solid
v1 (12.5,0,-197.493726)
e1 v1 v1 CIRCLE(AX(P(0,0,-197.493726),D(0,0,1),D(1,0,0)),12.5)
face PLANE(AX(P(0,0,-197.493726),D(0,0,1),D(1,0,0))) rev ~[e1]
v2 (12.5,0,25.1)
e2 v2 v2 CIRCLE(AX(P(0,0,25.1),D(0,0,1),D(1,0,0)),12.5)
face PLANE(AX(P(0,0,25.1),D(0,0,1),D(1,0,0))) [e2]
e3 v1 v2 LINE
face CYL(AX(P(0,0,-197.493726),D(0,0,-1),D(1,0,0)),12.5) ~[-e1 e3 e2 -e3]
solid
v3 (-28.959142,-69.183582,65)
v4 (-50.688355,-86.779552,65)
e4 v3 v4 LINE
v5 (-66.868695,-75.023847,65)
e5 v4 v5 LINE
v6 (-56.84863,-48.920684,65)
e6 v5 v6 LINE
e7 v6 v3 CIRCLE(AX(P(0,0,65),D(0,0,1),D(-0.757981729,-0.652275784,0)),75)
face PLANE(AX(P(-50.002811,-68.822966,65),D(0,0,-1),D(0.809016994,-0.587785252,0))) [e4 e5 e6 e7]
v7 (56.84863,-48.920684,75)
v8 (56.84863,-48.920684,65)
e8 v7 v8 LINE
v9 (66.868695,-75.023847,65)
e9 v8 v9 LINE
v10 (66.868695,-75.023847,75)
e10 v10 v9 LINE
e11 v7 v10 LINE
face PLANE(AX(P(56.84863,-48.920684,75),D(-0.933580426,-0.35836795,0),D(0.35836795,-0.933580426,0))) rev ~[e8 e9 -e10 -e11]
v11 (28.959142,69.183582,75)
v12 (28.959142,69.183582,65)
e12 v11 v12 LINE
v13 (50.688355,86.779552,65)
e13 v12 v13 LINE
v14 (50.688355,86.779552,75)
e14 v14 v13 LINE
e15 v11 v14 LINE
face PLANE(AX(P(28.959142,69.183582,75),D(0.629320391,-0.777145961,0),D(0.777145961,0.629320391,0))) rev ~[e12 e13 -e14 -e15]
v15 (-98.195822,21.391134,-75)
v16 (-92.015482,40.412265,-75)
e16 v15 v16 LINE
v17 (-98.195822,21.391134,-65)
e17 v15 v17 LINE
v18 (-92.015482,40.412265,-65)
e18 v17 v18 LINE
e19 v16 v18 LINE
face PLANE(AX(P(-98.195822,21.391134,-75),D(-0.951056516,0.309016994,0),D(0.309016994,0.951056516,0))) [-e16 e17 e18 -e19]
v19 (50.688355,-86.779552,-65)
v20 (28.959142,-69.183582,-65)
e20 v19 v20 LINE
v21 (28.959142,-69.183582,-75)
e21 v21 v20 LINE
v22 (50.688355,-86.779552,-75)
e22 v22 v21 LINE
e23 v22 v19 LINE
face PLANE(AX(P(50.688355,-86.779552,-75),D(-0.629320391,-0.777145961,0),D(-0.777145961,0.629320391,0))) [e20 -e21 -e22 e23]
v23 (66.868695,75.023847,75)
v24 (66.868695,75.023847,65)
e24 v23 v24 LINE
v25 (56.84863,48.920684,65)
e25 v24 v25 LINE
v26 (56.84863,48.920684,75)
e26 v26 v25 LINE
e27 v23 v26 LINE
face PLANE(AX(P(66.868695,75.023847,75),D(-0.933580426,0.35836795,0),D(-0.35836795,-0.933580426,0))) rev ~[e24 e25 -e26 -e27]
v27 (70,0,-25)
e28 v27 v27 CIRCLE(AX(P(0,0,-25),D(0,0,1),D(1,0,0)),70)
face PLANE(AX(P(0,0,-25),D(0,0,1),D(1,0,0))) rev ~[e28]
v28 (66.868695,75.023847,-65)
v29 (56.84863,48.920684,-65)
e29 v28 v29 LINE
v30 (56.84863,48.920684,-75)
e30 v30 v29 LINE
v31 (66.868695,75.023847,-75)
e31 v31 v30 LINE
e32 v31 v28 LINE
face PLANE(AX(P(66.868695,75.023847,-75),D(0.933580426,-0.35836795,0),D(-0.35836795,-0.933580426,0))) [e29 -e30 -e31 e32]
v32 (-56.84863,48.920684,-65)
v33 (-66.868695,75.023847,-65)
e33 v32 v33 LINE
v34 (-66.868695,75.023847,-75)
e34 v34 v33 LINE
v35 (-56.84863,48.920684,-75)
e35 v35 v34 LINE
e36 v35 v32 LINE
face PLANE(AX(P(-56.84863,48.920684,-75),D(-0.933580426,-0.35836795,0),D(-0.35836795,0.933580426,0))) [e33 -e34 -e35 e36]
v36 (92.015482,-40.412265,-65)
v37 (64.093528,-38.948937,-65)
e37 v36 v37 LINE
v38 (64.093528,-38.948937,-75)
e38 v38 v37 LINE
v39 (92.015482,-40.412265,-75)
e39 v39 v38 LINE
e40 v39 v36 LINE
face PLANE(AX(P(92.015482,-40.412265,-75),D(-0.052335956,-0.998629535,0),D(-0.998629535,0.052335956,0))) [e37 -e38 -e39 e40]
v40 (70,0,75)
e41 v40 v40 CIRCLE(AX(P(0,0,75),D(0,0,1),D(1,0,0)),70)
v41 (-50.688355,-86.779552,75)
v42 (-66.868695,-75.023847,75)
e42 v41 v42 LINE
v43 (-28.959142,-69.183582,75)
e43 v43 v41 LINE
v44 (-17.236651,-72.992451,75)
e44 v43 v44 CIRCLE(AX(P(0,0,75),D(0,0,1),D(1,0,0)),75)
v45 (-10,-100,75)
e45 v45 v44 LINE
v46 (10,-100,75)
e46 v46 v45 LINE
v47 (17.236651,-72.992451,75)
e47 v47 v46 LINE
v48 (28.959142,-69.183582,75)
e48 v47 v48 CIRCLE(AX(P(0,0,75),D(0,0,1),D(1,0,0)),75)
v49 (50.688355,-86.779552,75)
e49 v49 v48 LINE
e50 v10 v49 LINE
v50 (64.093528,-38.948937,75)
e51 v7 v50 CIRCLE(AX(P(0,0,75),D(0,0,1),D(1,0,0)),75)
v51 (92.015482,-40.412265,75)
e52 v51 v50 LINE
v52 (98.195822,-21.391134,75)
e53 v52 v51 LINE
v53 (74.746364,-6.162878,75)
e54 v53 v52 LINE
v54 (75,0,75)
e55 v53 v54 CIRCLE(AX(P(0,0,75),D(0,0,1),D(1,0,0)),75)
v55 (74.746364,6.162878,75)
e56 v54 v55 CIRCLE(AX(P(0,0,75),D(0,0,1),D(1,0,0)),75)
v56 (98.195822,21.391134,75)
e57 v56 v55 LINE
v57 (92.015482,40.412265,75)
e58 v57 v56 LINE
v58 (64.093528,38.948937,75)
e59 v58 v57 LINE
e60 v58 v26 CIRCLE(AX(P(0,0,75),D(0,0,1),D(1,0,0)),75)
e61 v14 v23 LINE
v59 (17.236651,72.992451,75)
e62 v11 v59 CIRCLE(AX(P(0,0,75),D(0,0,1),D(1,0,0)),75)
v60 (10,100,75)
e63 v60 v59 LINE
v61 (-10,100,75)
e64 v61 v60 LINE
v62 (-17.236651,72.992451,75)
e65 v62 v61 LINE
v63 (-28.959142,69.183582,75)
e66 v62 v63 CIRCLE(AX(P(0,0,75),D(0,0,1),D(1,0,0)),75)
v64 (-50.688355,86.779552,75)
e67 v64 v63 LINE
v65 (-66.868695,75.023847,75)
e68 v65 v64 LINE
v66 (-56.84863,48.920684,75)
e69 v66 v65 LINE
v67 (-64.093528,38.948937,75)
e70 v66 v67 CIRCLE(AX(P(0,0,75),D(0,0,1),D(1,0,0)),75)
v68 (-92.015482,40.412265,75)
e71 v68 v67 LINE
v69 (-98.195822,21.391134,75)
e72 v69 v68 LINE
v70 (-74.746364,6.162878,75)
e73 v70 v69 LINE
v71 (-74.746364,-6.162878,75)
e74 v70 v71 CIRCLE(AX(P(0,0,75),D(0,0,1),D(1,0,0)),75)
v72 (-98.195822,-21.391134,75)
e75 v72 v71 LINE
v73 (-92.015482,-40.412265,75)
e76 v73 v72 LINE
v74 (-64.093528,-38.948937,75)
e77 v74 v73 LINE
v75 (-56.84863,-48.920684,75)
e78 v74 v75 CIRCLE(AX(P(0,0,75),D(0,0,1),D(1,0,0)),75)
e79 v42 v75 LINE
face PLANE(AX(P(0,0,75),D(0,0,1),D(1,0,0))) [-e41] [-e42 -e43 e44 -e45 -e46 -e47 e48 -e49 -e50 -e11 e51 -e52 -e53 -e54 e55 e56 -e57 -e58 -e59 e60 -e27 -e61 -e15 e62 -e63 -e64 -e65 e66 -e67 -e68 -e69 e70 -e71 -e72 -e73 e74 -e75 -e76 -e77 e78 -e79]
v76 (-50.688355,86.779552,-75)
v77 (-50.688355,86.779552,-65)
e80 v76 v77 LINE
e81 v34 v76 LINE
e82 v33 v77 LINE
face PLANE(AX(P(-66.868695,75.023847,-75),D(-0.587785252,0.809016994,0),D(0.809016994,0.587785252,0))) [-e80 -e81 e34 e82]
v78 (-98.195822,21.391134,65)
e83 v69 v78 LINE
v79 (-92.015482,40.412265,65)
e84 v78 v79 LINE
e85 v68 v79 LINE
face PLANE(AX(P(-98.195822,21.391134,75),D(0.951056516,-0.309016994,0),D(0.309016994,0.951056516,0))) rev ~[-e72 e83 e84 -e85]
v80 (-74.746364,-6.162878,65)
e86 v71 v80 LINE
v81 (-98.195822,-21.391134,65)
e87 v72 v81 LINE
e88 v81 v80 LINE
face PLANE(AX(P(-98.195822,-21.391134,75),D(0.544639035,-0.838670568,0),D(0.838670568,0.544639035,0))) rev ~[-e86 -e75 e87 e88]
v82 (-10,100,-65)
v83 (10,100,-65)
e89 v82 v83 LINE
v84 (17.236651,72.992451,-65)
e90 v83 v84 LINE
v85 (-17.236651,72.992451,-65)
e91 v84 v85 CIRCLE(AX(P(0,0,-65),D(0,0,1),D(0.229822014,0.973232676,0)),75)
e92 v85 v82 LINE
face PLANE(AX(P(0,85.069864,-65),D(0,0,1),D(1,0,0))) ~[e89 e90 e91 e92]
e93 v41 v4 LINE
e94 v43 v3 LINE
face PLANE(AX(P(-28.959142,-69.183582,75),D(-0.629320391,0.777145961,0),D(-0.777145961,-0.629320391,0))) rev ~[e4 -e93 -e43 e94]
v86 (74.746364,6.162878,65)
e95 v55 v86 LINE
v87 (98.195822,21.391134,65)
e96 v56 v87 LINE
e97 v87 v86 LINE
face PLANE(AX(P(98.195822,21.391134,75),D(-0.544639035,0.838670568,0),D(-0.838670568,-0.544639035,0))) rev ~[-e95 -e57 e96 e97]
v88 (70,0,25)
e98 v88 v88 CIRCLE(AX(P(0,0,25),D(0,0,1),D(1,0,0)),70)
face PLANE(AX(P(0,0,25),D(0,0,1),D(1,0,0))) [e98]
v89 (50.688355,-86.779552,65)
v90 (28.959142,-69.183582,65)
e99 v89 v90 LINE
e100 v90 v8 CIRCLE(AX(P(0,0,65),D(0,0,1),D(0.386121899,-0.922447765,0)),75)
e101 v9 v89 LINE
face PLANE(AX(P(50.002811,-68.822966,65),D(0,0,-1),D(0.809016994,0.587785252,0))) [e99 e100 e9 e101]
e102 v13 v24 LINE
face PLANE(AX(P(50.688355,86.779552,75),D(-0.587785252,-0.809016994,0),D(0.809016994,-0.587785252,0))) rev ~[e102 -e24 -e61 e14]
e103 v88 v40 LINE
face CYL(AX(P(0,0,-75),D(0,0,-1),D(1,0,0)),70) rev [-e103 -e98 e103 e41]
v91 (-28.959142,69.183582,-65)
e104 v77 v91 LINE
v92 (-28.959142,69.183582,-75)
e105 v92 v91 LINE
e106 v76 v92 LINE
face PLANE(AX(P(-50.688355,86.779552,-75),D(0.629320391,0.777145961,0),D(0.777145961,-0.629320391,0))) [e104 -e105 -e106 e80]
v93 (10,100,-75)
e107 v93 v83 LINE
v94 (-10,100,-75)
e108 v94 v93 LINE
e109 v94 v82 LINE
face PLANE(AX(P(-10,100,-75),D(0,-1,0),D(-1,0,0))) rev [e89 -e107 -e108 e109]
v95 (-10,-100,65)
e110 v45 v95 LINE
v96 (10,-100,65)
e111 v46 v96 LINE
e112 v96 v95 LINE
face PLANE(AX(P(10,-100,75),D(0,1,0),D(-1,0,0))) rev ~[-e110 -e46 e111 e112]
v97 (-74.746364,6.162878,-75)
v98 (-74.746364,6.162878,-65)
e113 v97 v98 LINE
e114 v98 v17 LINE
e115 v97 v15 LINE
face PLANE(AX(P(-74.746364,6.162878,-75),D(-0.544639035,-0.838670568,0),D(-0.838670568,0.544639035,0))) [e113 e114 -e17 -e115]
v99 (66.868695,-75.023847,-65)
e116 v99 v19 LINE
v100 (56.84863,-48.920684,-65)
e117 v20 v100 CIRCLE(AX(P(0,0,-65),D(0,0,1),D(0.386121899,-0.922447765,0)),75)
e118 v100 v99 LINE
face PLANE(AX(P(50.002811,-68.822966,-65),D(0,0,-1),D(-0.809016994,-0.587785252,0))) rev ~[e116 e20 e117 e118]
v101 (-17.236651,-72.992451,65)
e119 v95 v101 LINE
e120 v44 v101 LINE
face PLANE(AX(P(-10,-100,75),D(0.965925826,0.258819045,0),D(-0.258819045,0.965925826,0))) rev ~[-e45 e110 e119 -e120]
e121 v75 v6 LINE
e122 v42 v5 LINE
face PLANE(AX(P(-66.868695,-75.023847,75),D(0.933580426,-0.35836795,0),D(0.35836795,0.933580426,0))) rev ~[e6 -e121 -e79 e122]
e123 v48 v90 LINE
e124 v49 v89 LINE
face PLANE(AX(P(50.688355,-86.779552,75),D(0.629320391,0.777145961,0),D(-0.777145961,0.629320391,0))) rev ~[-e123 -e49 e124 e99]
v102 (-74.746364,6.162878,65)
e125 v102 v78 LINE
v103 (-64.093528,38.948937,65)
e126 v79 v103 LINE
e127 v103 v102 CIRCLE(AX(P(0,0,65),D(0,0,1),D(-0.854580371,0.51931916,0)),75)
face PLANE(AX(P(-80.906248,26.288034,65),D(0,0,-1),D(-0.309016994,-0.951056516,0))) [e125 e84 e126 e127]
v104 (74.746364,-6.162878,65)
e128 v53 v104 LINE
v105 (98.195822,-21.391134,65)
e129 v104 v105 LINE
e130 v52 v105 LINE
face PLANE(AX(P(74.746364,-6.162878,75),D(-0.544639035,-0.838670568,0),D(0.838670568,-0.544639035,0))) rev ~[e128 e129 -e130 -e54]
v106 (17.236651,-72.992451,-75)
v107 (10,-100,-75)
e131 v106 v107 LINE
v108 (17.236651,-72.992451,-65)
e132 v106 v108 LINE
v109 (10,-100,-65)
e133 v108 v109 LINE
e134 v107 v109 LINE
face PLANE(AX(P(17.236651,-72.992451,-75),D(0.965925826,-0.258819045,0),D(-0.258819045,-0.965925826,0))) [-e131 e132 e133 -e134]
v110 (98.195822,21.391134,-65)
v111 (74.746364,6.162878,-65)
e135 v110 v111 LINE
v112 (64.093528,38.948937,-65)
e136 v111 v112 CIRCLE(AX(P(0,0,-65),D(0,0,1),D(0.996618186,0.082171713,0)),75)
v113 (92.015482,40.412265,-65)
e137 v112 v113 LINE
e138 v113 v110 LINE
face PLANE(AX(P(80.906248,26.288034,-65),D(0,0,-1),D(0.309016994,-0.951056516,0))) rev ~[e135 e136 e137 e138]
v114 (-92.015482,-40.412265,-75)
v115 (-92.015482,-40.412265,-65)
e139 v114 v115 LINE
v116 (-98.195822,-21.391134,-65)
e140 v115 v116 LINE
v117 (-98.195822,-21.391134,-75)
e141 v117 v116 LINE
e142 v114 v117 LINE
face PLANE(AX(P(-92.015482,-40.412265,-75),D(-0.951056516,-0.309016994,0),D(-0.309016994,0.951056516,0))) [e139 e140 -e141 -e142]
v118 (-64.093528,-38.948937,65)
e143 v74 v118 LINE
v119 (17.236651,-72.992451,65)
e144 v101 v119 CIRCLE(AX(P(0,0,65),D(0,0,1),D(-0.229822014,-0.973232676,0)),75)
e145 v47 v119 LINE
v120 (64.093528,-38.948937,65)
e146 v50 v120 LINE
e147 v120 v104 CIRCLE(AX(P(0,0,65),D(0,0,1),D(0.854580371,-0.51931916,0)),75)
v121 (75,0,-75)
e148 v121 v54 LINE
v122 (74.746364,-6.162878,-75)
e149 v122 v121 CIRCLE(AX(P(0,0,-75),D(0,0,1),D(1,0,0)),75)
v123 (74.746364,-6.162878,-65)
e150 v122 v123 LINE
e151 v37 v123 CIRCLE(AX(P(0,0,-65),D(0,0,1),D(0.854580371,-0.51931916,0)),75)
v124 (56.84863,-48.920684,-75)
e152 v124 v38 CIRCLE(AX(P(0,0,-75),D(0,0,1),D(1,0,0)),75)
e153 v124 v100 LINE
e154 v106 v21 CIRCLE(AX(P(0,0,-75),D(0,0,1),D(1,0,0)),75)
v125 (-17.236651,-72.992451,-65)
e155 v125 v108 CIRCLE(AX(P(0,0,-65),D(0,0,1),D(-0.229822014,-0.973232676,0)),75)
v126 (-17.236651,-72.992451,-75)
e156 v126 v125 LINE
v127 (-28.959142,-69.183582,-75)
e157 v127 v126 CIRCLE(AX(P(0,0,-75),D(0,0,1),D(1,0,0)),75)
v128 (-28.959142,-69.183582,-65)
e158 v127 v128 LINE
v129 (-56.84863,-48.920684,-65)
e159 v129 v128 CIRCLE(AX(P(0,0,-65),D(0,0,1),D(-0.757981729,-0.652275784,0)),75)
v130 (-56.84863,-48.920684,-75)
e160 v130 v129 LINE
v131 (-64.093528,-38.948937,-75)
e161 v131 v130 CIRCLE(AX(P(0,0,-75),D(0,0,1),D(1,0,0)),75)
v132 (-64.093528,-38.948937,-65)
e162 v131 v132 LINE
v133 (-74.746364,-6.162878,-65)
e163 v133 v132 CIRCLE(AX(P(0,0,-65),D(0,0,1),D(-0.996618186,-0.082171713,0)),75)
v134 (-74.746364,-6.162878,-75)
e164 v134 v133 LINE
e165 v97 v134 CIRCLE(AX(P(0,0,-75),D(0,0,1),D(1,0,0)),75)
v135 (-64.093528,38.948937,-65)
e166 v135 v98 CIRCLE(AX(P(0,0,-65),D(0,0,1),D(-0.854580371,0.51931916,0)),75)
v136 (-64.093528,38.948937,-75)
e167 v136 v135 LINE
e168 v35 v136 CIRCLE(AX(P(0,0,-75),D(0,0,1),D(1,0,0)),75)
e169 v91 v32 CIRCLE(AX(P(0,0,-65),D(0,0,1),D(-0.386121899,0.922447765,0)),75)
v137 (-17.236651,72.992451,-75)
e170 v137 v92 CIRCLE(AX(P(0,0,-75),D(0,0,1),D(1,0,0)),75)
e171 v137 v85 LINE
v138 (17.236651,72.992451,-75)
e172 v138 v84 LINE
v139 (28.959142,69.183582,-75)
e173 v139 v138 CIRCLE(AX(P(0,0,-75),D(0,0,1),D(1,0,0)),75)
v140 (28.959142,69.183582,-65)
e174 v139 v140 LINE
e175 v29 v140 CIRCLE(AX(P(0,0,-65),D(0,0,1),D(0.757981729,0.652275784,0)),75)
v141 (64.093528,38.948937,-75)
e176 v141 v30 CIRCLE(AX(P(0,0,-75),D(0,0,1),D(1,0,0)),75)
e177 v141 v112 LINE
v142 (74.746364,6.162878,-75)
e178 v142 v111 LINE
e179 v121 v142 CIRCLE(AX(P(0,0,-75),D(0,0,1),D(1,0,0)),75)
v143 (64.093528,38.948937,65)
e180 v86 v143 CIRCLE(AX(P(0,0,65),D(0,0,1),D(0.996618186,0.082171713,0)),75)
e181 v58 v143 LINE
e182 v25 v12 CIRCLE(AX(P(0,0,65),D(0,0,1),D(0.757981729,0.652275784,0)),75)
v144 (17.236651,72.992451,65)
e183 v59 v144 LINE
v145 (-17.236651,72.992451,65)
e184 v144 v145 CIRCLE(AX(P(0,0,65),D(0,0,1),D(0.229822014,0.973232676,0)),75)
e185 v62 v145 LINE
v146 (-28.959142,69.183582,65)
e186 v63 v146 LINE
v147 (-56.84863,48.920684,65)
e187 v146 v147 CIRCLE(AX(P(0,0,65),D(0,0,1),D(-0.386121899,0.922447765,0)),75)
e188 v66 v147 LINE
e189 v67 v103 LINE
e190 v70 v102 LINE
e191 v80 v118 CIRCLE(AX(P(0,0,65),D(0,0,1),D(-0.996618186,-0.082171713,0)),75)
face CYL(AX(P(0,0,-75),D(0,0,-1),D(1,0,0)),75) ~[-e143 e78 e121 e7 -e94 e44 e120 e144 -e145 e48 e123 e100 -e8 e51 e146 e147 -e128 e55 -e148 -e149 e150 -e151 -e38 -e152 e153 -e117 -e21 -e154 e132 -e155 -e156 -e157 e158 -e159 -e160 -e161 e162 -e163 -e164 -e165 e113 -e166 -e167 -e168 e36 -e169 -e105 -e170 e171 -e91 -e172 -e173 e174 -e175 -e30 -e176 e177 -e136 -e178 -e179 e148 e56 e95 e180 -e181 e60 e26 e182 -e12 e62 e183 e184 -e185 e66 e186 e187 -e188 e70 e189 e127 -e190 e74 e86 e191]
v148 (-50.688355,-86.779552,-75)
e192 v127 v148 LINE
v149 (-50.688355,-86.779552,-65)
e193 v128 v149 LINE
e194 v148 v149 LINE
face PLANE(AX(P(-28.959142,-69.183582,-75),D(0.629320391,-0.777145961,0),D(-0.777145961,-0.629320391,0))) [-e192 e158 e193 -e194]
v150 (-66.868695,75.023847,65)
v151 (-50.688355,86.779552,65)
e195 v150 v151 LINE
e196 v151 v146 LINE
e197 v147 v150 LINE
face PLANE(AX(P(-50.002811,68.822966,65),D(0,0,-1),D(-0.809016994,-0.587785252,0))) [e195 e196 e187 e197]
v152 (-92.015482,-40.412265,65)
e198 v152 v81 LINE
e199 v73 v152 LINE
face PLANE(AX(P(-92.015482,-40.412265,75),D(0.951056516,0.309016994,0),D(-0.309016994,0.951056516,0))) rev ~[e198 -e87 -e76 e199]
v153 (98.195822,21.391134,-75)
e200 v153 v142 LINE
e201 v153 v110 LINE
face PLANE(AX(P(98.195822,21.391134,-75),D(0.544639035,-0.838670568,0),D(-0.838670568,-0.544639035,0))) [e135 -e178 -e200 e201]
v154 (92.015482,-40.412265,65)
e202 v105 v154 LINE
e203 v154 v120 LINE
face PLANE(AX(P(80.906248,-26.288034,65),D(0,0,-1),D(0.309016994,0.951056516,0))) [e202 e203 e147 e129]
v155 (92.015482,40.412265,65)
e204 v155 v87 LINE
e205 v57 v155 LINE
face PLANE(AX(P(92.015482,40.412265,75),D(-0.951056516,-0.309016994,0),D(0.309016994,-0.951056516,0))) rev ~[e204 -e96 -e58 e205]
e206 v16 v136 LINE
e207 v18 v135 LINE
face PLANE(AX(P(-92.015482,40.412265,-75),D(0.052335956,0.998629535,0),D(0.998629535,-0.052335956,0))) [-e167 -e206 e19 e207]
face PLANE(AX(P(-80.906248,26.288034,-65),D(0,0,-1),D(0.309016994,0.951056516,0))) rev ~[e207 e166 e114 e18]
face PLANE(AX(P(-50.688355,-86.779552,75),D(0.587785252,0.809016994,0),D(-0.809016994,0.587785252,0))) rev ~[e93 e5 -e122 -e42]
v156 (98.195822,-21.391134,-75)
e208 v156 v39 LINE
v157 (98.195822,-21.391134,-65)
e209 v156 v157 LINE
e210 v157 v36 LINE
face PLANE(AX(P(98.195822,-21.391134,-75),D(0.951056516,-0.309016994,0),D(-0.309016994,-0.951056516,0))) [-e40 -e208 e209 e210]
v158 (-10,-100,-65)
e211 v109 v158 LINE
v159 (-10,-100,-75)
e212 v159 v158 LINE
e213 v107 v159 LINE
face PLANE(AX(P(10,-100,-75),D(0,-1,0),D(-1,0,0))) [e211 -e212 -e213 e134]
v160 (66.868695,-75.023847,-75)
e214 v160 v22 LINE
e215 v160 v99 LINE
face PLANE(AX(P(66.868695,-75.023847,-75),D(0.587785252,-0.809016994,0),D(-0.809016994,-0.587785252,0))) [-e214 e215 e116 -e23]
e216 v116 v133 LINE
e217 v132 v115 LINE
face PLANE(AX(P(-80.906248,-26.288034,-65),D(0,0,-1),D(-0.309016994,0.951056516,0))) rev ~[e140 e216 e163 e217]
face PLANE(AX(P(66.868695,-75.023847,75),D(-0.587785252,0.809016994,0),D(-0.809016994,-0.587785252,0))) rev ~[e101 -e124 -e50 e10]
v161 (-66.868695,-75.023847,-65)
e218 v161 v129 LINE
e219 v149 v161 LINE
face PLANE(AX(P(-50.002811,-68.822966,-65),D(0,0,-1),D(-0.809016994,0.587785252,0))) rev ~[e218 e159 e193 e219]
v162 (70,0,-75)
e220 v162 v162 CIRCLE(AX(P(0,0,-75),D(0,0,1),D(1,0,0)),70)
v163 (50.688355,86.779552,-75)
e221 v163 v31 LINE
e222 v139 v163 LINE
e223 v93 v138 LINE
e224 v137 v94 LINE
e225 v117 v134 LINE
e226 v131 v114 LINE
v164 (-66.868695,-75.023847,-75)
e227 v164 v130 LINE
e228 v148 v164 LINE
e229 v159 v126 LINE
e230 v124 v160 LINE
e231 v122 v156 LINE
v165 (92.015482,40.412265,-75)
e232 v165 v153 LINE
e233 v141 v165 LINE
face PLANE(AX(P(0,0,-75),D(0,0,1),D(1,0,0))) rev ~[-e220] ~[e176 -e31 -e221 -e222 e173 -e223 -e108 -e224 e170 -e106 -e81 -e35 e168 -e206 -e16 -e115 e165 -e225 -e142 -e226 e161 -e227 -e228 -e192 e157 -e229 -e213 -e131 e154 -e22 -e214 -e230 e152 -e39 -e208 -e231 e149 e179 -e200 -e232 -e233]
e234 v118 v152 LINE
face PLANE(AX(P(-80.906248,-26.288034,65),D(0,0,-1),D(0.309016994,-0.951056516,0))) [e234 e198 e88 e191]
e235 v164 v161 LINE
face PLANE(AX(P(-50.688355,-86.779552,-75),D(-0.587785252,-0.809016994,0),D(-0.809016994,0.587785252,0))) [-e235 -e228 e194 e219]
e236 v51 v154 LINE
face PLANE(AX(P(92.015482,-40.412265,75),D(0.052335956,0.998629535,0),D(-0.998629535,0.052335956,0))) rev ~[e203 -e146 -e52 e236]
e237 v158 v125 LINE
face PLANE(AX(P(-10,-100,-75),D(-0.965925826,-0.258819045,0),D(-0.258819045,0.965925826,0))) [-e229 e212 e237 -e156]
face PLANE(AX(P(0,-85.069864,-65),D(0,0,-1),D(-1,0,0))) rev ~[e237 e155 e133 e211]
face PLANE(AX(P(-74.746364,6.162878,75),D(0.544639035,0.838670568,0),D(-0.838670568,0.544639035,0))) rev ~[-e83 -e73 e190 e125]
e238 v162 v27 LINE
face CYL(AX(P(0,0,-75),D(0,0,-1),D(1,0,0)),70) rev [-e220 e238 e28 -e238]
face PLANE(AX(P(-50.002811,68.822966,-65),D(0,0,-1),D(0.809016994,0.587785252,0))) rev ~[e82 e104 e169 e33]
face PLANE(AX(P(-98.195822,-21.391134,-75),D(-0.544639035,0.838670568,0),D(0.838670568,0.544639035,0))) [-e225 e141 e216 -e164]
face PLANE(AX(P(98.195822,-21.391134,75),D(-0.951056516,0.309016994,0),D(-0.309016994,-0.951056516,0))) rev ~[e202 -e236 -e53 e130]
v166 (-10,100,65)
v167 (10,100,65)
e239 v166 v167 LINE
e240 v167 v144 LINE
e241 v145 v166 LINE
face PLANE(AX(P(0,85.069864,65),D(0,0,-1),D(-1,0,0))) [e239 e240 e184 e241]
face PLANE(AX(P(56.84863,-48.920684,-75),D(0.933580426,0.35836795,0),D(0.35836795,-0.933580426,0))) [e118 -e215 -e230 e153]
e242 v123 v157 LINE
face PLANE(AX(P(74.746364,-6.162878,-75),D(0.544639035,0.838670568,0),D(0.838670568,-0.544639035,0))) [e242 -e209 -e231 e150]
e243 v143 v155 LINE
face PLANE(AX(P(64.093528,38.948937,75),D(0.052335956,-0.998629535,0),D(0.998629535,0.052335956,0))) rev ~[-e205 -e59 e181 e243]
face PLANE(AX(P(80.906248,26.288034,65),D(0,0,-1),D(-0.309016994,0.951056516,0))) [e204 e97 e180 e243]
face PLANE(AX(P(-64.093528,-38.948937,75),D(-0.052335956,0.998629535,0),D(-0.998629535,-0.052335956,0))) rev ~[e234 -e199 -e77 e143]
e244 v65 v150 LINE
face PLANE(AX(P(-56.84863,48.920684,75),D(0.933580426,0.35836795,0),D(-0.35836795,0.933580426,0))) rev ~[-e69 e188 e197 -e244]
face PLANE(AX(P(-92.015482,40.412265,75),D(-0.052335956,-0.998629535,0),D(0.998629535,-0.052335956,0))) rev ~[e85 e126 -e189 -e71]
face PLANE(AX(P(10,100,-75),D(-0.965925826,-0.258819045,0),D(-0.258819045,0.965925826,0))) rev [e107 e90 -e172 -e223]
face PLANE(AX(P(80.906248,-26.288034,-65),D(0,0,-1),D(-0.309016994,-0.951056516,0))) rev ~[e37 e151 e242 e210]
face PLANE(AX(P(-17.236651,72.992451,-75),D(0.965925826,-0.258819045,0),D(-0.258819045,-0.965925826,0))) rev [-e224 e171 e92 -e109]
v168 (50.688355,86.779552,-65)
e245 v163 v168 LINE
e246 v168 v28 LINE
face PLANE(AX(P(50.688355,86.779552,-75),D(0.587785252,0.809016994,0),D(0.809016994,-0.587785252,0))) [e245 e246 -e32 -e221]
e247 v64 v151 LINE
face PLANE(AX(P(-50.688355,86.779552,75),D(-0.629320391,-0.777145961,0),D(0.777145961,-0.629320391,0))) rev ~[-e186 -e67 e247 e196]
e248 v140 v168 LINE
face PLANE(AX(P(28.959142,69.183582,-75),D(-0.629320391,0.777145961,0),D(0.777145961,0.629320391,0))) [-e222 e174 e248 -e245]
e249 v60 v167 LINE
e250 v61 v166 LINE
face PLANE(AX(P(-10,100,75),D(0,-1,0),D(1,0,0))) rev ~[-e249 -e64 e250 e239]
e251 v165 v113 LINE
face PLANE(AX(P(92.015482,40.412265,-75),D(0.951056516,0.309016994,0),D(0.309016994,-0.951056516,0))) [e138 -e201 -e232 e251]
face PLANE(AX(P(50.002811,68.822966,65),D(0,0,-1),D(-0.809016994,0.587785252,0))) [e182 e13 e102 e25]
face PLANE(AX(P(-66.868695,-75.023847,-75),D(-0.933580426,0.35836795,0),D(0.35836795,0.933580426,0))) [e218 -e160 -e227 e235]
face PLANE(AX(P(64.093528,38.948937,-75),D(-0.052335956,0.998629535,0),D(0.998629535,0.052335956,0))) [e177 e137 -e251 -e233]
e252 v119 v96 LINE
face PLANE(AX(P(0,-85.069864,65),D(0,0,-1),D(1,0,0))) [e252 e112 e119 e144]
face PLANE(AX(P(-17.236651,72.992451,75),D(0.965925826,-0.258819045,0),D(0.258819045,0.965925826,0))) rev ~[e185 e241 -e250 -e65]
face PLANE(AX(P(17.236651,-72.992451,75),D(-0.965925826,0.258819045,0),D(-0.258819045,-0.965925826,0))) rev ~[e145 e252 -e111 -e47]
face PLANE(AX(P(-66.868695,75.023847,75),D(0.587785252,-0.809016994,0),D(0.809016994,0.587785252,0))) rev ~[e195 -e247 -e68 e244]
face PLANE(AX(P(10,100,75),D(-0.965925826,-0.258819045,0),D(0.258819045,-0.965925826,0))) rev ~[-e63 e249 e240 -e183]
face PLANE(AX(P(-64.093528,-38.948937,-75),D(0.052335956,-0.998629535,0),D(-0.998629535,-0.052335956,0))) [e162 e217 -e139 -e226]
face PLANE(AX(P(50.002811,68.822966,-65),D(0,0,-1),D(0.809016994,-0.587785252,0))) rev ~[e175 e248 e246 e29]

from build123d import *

# Parameters (mm, degrees)
BOSS_EXTRUDE1_DEPTH      = 25
BOSS_EXTRUDE1_DEPTH_BACK = 25
SKETCH2_R                = 70
BOSS_EXTRUDE2_DEPTH      = 50
BOSS_EXTRUDE2_DEPTH_BACK = 100
SKETCH3_R                = 75
SKETCH3_R_2              = 70
BOSS_EXTRUDE3_DEPTH      = 10
CIRPATTERN1_COUNT        = 10
MIRROR1_COPY_1_DEPTH     = 10
MIRROR1_COPY_2_DEPTH     = 10
MIRROR1_COPY_3_DEPTH     = 10
MIRROR1_COPY_4_DEPTH     = 10
MIRROR1_COPY_5_DEPTH     = 10
MIRROR1_COPY_6_DEPTH     = 10
MIRROR1_COPY_7_DEPTH     = 10
MIRROR1_COPY_8_DEPTH     = 10
MIRROR1_COPY_9_DEPTH     = 10
MIRROR1_COPY_10_DEPTH    = 10
BOSS_EXTRUDE4_DEPTH      = 0.1
BOSS_EXTRUDE4_DEPTH_BACK = 222.49372628
SKETCH5_R                = 12.5


with BuildPart() as part:
    # Sketch2 → Boss-Extrude1 (new, two sides: drawn at the far end of the back side and taken through both)
    with BuildSketch(Plane.XY.offset(-BOSS_EXTRUDE1_DEPTH_BACK)):
        Circle(SKETCH2_R)
    extrude(amount=BOSS_EXTRUDE1_DEPTH + BOSS_EXTRUDE1_DEPTH_BACK)

    # Sketch3 → Boss-Extrude2 (add, two sides: drawn at the far end of the back side and taken through both)
    with BuildSketch(Plane.XY.offset(25).offset(-BOSS_EXTRUDE2_DEPTH_BACK)):
        Circle(SKETCH3_R)
        Circle(SKETCH3_R_2, mode=Mode.SUBTRACT)
    extrude(amount=BOSS_EXTRUDE2_DEPTH + BOSS_EXTRUDE2_DEPTH_BACK)

    # Sketch4 → Boss-Extrude3 (add)
    with BuildSketch(Plane.XY.offset(75)):
        with BuildLine():
            Line((-10, 100), (10, 100))
            Line((10, 100), (17.23665102, 72.992450717))
            ThreePointArc((17.23665102, 72.992450717), (0, 75), (-17.23665102, 72.992450717))
            Line((-17.23665102, 72.992450717), (-10, 100))
        make_face()
    boss_extrude3 = extrude(amount=-BOSS_EXTRUDE3_DEPTH)

    # CirPattern1: Boss-Extrude3 ×10 about axis
    cirpattern1_axis = Axis((0, 0, 75), (0, 0, 1))
    for i in range(1, CIRPATTERN1_COUNT):
        add(boss_extrude3.rotate(cirpattern1_axis, i * 360 / CIRPATTERN1_COUNT))

    # Mirror1 copy 1 sketch → Mirror1 copy 1 (add)
    with BuildSketch(Plane(origin=(0, 0, -75), x_dir=(0.8090169943749475, 0.5877852522924731, 0), z_dir=(0, 0, -1))):
        with BuildLine():
            Line((-10, -100), (10, -100))
            Line((10, -100), (17.23665102, -72.992450717))
            ThreePointArc((17.23665102, -72.992450717), (0, -75), (-17.23665102, -72.992450717))
            Line((-17.23665102, -72.992450717), (-10, -100))
        make_face()
    extrude(amount=-MIRROR1_COPY_1_DEPTH)

    # Mirror1 copy 2 sketch → Mirror1 copy 2 (add)
    with BuildSketch(Plane(origin=(0, 0, -75), x_dir=(0.30901699437494745, 0.9510565162951535, 0), z_dir=(0, 0, -1))):
        with BuildLine():
            Line((-10, -100), (10, -100))
            Line((10, -100), (17.23665102, -72.992450717))
            ThreePointArc((17.23665102, -72.992450717), (0, -75), (-17.23665102, -72.992450717))
            Line((-17.23665102, -72.992450717), (-10, -100))
        make_face()
    extrude(amount=-MIRROR1_COPY_2_DEPTH)

    # Mirror1 copy 3 sketch → Mirror1 copy 3 (add)
    with BuildSketch(Plane(origin=(0, 0, -75), x_dir=(-0.30901699437494734, 0.9510565162951536, 0), z_dir=(0, 0, -1))):
        with BuildLine():
            Line((-10, -100), (10, -100))
            Line((10, -100), (17.23665102, -72.992450717))
            ThreePointArc((17.23665102, -72.992450717), (0, -75), (-17.23665102, -72.992450717))
            Line((-17.23665102, -72.992450717), (-10, -100))
        make_face()
    extrude(amount=-MIRROR1_COPY_3_DEPTH)

    # Mirror1 copy 4 sketch → Mirror1 copy 4 (add)
    with BuildSketch(Plane(origin=(0, 0, -75), x_dir=(-0.8090169943749473, 0.5877852522924732, 0), z_dir=(0, 0, -1))):
        with BuildLine():
            Line((-10, -100), (10, -100))
            Line((10, -100), (17.23665102, -72.992450717))
            ThreePointArc((17.23665102, -72.992450717), (0, -75), (-17.23665102, -72.992450717))
            Line((-17.23665102, -72.992450717), (-10, -100))
        make_face()
    extrude(amount=-MIRROR1_COPY_4_DEPTH)

    # Mirror1 copy 5 sketch → Mirror1 copy 5 (add)
    with BuildSketch(Plane(origin=(0, 0, -75), x_dir=(-1, 0, 0), z_dir=(0, 0, -1))):
        with BuildLine():
            Line((-10, -100), (10, -100))
            Line((10, -100), (17.23665102, -72.992450717))
            ThreePointArc((17.23665102, -72.992450717), (0, -75), (-17.23665102, -72.992450717))
            Line((-17.23665102, -72.992450717), (-10, -100))
        make_face()
    extrude(amount=-MIRROR1_COPY_5_DEPTH)

    # Mirror1 copy 6 sketch → Mirror1 copy 6 (add)
    with BuildSketch(Plane(origin=(0, 0, -75), x_dir=(-0.8090169943749476, -0.587785252292473, 0), z_dir=(0, 0, -1))):
        with BuildLine():
            Line((-10, -100), (10, -100))
            Line((10, -100), (17.23665102, -72.992450717))
            ThreePointArc((17.23665102, -72.992450717), (0, -75), (-17.23665102, -72.992450717))
            Line((-17.23665102, -72.992450717), (-10, -100))
        make_face()
    extrude(amount=-MIRROR1_COPY_6_DEPTH)

    # Mirror1 copy 7 sketch → Mirror1 copy 7 (add)
    with BuildSketch(Plane(origin=(0, 0, -75), x_dir=(-0.30901699437494756, -0.9510565162951535, 0), z_dir=(0, 0, -1))):
        with BuildLine():
            Line((-10, -100), (10, -100))
            Line((10, -100), (17.23665102, -72.992450717))
            ThreePointArc((17.23665102, -72.992450717), (0, -75), (-17.23665102, -72.992450717))
            Line((-17.23665102, -72.992450717), (-10, -100))
        make_face()
    extrude(amount=-MIRROR1_COPY_7_DEPTH)

    # Mirror1 copy 8 sketch → Mirror1 copy 8 (add)
    with BuildSketch(Plane(origin=(0, 0, -75), x_dir=(0.30901699437494723, -0.9510565162951536, 0), z_dir=(0, 0, -1))):
        with BuildLine():
            Line((-10, -100), (10, -100))
            Line((10, -100), (17.23665102, -72.992450717))
            ThreePointArc((17.23665102, -72.992450717), (0, -75), (-17.23665102, -72.992450717))
            Line((-17.23665102, -72.992450717), (-10, -100))
        make_face()
    extrude(amount=-MIRROR1_COPY_8_DEPTH)

    # Mirror1 copy 9 sketch → Mirror1 copy 9 (add)
    with BuildSketch(Plane(origin=(0, 0, -75), x_dir=(0.8090169943749473, -0.5877852522924734, 0), z_dir=(0, 0, -1))):
        with BuildLine():
            Line((-10, -100), (10, -100))
            Line((10, -100), (17.23665102, -72.992450717))
            ThreePointArc((17.23665102, -72.992450717), (0, -75), (-17.23665102, -72.992450717))
            Line((-17.23665102, -72.992450717), (-10, -100))
        make_face()
    extrude(amount=-MIRROR1_COPY_9_DEPTH)

    # Mirror1 copy 10 sketch → Mirror1 copy 10 (add)
    with BuildSketch(Plane(origin=(0, 0, -75), x_dir=(1, 0, 0), z_dir=(0, 0, -1))):
        with BuildLine():
            Line((-10, -100), (10, -100))
            Line((10, -100), (17.23665102, -72.992450717))
            ThreePointArc((17.23665102, -72.992450717), (0, -75), (-17.23665102, -72.992450717))
            Line((-17.23665102, -72.992450717), (-10, -100))
        make_face()
    extrude(amount=-MIRROR1_COPY_10_DEPTH)


with BuildPart() as body_2:
    # Sketch5 → Boss-Extrude4 (new, two sides: drawn at the far end of the back side and taken through both)
    with BuildSketch(Plane.XY.offset(25).offset(-BOSS_EXTRUDE4_DEPTH_BACK)):
        Circle(SKETCH5_R)
    extrude(amount=BOSS_EXTRUDE4_DEPTH + BOSS_EXTRUDE4_DEPTH_BACK)


solid = Compound([part.part, body_2.part])
